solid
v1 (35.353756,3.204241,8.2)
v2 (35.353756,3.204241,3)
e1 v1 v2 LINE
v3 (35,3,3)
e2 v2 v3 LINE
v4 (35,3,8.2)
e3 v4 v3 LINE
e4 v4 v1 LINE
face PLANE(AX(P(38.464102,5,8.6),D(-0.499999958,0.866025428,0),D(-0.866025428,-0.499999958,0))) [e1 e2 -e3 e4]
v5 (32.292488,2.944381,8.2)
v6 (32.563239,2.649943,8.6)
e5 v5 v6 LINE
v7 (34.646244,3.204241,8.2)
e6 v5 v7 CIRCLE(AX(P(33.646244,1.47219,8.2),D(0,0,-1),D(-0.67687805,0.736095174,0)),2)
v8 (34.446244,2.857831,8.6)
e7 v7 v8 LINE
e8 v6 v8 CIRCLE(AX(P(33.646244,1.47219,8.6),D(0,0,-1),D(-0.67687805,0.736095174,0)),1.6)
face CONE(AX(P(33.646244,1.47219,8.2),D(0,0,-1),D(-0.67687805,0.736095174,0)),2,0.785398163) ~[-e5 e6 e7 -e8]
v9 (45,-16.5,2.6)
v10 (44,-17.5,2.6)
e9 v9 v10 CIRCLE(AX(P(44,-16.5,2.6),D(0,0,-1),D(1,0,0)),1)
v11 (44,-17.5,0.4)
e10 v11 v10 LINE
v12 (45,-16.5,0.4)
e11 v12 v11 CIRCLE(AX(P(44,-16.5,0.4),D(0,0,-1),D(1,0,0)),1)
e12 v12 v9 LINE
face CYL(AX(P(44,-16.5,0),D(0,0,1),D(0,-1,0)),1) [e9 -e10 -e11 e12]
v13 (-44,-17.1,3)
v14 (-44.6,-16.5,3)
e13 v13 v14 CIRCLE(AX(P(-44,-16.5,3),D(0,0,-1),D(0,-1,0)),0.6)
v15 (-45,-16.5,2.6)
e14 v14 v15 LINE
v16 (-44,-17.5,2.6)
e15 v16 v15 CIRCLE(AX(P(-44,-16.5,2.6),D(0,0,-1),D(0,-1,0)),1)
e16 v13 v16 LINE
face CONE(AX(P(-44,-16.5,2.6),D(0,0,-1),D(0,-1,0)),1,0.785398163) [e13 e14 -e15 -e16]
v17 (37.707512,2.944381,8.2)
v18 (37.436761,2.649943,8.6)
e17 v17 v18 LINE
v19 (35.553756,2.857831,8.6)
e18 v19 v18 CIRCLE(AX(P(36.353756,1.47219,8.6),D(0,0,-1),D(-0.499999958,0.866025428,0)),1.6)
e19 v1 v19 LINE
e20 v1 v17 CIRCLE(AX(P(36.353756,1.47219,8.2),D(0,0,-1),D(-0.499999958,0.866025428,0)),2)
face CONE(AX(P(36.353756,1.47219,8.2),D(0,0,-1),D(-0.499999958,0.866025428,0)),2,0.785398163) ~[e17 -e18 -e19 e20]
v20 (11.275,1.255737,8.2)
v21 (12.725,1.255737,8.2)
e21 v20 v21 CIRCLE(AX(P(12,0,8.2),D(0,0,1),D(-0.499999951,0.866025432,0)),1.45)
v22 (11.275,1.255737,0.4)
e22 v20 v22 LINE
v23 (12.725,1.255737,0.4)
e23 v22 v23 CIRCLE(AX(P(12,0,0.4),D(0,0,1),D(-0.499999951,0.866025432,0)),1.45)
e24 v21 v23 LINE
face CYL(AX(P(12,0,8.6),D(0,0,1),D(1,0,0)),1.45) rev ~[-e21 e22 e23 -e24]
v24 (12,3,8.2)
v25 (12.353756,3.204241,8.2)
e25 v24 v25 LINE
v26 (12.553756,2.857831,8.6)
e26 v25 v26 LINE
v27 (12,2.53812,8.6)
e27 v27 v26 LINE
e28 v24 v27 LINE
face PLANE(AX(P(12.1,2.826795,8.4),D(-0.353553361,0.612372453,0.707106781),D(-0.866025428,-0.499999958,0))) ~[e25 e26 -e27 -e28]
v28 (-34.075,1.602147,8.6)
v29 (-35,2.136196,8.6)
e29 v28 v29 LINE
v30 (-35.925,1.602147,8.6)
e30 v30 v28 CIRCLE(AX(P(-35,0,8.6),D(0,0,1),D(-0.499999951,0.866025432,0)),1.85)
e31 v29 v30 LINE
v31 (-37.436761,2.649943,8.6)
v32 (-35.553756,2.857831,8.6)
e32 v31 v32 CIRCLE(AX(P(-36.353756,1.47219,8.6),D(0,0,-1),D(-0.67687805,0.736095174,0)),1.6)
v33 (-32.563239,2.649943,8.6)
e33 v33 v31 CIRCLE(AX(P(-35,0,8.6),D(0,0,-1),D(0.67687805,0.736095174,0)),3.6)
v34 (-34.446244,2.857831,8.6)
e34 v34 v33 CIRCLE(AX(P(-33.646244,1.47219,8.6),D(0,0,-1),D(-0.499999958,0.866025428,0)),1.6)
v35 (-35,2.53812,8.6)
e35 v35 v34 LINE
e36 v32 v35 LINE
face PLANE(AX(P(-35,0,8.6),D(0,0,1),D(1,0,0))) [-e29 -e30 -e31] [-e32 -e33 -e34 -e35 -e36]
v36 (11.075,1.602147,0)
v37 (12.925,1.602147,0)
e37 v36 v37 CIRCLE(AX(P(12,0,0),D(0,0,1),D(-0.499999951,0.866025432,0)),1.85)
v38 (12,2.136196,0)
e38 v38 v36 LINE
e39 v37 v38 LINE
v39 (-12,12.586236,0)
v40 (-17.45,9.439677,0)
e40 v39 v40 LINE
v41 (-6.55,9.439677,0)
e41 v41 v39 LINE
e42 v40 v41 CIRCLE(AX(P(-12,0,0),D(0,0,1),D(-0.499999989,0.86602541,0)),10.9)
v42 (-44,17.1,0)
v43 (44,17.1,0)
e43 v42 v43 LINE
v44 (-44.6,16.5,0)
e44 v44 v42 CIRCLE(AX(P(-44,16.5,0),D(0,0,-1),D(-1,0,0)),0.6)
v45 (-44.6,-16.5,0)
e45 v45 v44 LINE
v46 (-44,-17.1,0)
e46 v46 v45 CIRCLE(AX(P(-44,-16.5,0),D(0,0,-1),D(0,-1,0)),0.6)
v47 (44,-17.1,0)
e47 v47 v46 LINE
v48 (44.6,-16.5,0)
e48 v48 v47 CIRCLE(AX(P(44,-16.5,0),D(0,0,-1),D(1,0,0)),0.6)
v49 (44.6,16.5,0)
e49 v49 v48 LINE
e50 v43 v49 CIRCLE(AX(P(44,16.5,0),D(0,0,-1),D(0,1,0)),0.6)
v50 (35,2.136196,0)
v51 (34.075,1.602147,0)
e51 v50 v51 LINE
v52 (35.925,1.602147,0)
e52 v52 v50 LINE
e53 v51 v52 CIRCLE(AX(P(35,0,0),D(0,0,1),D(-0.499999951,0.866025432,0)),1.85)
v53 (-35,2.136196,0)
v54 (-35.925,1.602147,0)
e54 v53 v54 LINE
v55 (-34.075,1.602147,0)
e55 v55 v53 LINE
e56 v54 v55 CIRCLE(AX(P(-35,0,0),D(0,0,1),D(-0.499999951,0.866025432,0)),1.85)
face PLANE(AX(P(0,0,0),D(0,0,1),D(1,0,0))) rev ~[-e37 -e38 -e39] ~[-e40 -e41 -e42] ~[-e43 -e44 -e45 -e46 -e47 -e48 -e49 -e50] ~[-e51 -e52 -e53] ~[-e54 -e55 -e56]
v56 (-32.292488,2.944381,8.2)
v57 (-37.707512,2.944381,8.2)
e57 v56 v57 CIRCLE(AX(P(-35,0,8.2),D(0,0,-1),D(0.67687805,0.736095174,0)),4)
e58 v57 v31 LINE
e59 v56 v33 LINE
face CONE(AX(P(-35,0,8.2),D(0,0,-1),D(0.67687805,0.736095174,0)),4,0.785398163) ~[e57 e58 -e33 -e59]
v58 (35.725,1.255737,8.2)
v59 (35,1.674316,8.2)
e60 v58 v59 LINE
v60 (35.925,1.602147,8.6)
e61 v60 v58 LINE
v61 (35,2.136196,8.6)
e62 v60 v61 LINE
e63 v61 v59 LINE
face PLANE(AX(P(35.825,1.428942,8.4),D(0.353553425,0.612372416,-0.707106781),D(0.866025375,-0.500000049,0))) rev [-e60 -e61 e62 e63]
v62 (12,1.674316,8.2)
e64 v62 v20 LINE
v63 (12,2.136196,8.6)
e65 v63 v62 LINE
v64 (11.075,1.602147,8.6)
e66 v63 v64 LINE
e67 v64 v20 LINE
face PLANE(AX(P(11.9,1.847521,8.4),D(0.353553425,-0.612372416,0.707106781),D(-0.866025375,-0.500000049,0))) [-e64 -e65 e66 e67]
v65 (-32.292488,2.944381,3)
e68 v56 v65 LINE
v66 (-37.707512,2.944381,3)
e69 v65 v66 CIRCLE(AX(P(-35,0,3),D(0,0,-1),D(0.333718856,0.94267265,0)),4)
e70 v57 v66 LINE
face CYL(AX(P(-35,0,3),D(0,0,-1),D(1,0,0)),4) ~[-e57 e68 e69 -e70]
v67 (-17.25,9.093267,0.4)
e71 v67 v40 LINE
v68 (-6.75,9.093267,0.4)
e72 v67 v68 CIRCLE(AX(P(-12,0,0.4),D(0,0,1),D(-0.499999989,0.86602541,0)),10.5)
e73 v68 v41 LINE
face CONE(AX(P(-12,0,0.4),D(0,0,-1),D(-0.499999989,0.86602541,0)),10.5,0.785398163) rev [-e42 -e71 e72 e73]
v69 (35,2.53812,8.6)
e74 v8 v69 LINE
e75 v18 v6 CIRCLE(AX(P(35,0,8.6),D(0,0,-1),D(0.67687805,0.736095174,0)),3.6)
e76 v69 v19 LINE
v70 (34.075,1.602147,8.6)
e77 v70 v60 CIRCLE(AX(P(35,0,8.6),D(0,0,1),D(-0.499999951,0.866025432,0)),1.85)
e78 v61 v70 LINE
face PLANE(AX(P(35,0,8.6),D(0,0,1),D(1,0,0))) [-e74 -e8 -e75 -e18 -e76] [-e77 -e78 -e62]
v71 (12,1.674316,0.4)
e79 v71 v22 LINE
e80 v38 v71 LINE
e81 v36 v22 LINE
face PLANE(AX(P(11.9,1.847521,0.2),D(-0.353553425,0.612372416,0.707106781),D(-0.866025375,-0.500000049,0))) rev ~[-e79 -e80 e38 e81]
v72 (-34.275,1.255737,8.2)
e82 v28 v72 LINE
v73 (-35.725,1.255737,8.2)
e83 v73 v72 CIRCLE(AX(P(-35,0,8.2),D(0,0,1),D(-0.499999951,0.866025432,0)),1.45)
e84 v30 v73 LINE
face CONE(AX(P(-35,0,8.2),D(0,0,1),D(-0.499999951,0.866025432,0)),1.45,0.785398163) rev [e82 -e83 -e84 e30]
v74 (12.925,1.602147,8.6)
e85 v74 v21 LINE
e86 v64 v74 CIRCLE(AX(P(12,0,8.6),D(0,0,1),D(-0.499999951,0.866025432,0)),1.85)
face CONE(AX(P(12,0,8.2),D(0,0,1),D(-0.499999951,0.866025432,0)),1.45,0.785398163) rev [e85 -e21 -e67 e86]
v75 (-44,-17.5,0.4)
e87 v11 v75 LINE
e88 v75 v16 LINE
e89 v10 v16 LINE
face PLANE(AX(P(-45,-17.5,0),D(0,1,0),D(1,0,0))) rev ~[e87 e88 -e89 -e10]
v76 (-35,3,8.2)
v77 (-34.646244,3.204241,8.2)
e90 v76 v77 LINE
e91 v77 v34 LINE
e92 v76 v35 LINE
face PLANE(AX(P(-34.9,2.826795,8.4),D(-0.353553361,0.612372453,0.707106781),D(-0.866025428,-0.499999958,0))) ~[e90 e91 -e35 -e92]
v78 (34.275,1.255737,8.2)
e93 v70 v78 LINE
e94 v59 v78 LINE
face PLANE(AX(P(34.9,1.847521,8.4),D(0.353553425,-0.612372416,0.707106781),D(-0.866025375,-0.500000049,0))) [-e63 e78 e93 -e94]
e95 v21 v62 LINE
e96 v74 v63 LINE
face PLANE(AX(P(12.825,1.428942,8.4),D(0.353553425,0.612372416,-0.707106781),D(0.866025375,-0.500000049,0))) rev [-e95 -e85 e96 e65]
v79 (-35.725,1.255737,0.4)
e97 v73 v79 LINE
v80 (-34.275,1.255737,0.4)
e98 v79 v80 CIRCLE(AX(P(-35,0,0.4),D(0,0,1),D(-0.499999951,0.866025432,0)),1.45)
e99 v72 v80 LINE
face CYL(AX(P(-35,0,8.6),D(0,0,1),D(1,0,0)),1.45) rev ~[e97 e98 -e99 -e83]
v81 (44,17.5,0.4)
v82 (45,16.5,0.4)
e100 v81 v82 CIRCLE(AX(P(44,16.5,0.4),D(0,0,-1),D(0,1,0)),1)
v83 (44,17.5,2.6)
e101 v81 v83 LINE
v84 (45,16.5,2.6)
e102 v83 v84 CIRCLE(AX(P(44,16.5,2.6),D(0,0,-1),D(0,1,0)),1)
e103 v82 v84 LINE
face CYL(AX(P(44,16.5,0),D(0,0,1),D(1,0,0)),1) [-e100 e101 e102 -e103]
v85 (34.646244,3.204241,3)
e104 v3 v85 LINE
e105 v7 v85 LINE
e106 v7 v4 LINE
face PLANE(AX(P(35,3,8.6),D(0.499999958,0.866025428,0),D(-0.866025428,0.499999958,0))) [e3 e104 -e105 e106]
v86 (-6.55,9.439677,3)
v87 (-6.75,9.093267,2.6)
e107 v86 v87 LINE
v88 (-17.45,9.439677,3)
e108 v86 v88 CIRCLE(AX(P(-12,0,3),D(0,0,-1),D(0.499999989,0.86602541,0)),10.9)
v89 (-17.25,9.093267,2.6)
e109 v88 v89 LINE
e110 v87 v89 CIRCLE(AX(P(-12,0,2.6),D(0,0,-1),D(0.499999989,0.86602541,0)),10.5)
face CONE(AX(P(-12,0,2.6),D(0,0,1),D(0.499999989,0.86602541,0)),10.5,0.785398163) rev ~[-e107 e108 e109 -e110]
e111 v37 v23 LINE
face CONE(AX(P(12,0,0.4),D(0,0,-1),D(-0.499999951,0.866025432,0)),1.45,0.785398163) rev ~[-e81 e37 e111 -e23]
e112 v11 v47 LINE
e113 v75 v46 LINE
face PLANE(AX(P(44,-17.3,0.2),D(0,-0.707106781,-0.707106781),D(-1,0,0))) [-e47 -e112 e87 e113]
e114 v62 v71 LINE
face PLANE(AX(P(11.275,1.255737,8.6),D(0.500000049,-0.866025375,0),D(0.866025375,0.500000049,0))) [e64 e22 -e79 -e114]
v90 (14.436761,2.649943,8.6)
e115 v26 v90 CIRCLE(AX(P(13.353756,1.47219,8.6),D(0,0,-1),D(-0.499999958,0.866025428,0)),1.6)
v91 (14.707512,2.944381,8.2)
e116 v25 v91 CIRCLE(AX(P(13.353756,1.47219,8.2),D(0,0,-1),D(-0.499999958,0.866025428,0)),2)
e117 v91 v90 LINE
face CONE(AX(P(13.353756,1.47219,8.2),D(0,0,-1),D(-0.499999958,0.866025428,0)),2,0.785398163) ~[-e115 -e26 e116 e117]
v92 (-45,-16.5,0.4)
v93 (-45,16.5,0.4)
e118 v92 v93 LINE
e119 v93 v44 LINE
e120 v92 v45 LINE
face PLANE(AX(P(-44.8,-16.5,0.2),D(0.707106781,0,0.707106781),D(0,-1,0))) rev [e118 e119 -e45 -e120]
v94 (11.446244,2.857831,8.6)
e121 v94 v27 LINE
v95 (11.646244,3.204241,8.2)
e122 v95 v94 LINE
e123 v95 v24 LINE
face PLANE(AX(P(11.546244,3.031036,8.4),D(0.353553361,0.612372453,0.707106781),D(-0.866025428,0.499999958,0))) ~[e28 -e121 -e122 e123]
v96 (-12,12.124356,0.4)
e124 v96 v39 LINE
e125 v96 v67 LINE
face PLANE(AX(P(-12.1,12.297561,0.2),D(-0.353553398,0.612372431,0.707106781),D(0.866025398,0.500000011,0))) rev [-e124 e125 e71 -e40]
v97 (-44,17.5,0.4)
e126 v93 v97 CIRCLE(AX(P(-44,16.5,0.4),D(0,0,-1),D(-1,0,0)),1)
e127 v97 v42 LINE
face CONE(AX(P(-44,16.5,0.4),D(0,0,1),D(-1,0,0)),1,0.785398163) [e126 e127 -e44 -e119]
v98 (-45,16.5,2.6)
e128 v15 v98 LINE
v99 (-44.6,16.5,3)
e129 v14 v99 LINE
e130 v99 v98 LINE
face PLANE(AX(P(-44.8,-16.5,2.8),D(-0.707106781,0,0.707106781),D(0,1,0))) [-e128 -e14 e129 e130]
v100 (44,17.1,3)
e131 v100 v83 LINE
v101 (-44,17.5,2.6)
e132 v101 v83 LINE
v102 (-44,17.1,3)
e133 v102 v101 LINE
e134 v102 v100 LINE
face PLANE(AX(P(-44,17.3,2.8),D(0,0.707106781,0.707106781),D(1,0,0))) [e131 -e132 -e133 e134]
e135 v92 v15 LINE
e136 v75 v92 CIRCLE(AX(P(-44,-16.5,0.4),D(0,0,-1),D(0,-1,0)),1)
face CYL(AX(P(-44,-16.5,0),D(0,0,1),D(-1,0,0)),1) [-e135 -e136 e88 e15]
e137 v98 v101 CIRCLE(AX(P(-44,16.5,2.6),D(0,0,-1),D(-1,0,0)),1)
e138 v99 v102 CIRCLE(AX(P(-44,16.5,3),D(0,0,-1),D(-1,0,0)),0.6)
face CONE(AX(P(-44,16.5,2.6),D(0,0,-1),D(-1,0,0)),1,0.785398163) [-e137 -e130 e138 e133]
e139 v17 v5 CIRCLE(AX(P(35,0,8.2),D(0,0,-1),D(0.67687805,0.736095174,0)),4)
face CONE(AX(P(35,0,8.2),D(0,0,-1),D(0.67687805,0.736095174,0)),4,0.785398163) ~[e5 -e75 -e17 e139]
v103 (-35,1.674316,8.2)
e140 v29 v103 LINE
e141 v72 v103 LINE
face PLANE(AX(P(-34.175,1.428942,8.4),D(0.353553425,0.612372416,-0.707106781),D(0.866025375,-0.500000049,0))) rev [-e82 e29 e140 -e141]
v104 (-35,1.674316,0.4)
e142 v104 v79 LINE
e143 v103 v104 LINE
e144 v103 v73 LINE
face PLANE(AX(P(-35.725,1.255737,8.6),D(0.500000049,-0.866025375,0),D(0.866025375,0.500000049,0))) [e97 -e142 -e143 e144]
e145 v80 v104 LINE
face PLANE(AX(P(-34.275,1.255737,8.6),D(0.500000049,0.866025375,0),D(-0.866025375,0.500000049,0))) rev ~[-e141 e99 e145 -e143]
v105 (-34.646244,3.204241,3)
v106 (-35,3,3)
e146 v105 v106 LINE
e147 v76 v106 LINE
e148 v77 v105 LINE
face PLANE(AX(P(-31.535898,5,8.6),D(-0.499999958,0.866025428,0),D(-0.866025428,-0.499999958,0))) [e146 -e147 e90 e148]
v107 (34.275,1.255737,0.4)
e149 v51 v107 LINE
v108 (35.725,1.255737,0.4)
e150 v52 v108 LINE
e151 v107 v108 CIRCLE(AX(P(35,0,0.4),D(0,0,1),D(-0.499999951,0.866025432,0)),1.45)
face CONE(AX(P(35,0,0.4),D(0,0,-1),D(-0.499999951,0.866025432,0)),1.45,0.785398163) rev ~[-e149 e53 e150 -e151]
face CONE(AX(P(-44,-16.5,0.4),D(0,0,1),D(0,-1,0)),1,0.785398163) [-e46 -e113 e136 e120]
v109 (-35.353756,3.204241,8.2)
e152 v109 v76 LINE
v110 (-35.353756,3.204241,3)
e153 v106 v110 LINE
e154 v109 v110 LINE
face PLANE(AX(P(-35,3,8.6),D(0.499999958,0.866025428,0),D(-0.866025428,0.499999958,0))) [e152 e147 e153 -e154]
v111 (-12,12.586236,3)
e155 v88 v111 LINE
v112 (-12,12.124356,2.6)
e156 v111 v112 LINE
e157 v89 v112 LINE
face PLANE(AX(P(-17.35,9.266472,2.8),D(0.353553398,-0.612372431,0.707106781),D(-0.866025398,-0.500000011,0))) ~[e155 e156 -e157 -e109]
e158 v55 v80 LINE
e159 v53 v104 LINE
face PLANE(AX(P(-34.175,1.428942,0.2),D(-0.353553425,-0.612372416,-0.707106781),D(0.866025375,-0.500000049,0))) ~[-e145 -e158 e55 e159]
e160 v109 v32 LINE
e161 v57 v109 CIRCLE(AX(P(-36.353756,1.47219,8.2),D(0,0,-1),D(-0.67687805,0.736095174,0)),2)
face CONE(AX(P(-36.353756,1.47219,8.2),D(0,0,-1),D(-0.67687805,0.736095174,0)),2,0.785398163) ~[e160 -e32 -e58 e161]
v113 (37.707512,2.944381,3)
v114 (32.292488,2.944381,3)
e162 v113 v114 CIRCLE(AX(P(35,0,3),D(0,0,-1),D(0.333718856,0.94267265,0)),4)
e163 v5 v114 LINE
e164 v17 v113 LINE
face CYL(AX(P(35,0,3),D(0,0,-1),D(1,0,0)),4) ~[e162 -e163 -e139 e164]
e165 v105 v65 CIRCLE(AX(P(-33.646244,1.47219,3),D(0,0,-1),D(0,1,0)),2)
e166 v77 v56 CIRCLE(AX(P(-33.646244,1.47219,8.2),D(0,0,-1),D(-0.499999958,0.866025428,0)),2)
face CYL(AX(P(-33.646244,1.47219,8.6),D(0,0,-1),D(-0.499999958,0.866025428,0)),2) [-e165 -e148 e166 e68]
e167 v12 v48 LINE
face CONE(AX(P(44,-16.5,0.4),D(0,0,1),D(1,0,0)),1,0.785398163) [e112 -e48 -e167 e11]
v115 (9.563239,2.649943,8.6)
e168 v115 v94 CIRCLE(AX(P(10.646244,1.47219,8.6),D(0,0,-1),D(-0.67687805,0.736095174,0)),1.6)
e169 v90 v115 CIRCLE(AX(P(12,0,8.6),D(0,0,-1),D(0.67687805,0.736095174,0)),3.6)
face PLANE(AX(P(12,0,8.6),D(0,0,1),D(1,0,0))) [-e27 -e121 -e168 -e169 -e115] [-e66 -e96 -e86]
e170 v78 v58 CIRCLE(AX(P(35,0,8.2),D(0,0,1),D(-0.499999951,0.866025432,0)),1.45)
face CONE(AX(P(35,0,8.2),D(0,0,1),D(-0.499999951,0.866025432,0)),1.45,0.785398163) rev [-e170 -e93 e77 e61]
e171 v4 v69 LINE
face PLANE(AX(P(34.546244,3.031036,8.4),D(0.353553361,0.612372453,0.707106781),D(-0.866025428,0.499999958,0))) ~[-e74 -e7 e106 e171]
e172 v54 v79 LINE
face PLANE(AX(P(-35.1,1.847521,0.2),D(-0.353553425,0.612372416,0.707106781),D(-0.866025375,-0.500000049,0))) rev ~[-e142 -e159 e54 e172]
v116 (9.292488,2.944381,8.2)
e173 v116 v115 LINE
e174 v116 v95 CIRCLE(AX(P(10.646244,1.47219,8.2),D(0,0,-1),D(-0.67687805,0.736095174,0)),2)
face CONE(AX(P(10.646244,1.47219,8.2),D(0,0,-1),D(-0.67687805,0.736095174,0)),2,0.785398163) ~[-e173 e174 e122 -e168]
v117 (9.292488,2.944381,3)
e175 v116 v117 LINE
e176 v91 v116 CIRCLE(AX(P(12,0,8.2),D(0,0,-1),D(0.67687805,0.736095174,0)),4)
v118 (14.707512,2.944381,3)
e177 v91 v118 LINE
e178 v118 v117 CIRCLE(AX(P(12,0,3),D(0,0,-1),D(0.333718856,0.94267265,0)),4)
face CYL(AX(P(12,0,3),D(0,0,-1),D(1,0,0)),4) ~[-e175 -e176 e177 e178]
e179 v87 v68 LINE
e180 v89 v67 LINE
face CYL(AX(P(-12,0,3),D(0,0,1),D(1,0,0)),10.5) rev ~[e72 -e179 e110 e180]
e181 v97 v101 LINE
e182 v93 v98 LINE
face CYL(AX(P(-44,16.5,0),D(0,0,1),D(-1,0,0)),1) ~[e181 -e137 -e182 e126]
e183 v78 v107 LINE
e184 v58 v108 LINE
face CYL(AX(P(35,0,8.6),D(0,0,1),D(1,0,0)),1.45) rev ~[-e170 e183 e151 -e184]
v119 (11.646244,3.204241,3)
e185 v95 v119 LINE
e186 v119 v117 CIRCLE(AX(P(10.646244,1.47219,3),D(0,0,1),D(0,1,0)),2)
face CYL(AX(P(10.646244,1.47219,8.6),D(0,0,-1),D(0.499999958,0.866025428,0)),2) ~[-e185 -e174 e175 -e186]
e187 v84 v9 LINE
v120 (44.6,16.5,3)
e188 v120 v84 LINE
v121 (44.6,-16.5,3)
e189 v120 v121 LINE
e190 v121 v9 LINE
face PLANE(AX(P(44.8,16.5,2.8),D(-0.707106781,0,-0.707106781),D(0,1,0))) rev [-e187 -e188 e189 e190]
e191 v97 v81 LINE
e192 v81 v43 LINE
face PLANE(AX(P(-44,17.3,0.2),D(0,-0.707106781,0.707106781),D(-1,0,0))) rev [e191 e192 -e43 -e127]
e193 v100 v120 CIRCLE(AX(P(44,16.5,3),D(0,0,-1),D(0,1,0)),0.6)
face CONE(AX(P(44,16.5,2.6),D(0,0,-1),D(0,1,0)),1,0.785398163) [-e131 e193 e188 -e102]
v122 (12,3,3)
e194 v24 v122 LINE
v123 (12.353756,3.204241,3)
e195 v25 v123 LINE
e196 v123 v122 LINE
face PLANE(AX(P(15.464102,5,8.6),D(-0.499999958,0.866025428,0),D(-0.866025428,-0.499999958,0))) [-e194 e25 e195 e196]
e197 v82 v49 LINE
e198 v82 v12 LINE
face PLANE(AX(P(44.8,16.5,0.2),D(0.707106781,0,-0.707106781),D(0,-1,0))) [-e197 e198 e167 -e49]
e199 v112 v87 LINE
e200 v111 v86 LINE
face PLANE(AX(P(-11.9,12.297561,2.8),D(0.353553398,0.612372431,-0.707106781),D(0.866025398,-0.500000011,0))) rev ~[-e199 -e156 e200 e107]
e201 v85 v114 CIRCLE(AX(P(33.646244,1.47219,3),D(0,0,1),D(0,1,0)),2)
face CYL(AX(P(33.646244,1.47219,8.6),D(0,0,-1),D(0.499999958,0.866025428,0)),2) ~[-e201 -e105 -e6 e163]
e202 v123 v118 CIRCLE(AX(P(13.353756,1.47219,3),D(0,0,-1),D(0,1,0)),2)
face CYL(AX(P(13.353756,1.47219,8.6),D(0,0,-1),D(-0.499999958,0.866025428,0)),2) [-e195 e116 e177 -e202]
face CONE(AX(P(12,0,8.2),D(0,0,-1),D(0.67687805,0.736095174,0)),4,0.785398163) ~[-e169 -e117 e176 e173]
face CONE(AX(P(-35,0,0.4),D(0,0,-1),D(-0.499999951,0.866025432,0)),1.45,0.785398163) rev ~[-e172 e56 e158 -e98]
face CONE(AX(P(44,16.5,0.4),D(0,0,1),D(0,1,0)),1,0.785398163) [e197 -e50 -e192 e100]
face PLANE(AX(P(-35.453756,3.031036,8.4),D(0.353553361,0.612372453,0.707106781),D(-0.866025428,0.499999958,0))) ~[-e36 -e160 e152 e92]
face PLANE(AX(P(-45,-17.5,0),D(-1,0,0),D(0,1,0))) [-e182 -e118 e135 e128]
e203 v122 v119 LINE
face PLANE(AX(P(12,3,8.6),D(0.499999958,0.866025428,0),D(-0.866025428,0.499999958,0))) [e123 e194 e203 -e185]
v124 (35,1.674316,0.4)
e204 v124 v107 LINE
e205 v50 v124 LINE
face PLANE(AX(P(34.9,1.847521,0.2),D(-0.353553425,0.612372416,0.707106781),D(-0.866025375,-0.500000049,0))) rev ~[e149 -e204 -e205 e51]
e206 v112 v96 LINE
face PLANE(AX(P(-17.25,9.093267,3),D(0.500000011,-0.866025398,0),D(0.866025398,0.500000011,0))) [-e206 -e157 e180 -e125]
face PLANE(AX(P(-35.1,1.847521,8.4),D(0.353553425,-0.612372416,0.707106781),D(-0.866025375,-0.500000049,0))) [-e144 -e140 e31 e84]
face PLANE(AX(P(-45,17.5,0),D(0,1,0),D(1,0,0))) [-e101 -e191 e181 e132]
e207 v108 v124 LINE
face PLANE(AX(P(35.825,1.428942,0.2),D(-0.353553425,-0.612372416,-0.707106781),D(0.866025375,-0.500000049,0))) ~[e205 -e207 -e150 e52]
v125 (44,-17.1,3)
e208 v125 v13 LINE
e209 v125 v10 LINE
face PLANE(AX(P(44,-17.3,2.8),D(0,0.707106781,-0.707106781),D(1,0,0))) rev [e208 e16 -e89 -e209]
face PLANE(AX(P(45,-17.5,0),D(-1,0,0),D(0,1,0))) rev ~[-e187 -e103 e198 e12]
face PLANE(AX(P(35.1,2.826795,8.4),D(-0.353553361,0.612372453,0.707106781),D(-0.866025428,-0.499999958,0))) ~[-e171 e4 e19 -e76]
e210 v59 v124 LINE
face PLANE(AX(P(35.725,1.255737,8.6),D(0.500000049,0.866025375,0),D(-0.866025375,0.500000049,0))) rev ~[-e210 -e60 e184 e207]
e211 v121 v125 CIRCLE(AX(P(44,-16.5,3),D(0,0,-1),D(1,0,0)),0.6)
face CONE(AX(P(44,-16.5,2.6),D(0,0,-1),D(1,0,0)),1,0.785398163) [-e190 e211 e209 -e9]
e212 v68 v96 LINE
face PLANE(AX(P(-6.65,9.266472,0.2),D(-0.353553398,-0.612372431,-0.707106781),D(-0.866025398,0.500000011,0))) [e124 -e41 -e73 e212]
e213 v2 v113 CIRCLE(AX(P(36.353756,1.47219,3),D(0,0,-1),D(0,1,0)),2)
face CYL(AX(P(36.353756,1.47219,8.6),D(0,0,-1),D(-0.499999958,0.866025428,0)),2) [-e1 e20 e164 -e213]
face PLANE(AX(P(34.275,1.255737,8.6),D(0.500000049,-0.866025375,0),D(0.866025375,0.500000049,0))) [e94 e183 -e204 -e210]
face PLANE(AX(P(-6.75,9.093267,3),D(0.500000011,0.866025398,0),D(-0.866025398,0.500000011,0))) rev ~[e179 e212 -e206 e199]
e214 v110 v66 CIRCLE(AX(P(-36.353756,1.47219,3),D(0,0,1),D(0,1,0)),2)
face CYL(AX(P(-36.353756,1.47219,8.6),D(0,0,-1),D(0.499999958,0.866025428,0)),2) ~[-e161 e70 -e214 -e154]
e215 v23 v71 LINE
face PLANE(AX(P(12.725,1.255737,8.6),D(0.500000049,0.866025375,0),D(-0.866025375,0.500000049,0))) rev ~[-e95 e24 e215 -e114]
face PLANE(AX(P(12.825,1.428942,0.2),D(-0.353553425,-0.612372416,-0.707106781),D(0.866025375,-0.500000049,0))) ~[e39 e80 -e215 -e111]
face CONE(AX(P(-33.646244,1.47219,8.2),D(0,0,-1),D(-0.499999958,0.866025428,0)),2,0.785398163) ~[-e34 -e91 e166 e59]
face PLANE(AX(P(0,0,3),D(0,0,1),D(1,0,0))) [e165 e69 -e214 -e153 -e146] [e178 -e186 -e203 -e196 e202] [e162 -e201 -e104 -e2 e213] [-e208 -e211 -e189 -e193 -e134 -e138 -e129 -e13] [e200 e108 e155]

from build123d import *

# Parameters (mm, degrees)
SKETCH_W                = 90
SKETCH_H                = 35
PAD_DEPTH               = 3
SKETCH001_R             = 10.5
HOLE_DEPTH              = 25
HOLE_TEARDROPS_DEPTH    = 25
SKETCH002_R             = 4
PAD001_DEPTH            = 5.6
POCKET_DEPTH            = 5.6
SKETCH004_R             = 1.45
HOLE001_DEPTH           = 25
HOLE001_TEARDROPS_DEPTH = 25
FILLET_R                = 2
CHAMFER_SIZE            = 0.4
FILLET001_R             = 1
CHAMFER001_SIZE         = 0.4


with BuildPart() as part:
    # Sketch → Pad (new body)
    with BuildSketch(Plane.XY):
        Rectangle(SKETCH_W, SKETCH_H)
    extrude(amount=PAD_DEPTH)

    # Sketch001 (on Face6 of Pad) → Hole (cut)
    with BuildSketch(Plane.XY.offset(3)):
        with Locations((-12, 0)):
            Circle(SKETCH001_R)
    extrude(amount=-HOLE_DEPTH, mode=Mode.SUBTRACT)

    # Sketch001_Teardrops (on Sketch) → Hole_Teardrops (cut)
    with BuildSketch(Plane.XY.offset(3)):
        with BuildLine():
            ThreePointArc((-17.25, 9.093267), (-12, -10.5), (-6.75, 9.093267))
            Line((-6.75, 9.093267), (-12, 12.124356))
            Line((-17.25, 9.093267), (-12, 12.124356))
        make_face()
    extrude(amount=-HOLE_TEARDROPS_DEPTH, mode=Mode.SUBTRACT)

    # Sketch002 (on Face5 of Hole_Teardrops) → Pad001 (join)
    with BuildSketch(Plane.XY.offset(3)):
        with Locations((35, 0)):
            Circle(SKETCH002_R)
        with Locations((12, 0)):
            Circle(SKETCH002_R)
        with Locations((-35, 0)):
            Circle(SKETCH002_R)
    extrude(amount=PAD001_DEPTH)

    # Sketch003 (on Face13 of Pad001) → Pocket (cut)
    with BuildSketch(Plane.XY.offset(8.6)):
        Polygon((-35, 3), (-38.464102, 5), (-31.535898, 5), align=None)
        Polygon((12, 3), (8.535898, 5), (15.464102, 5), align=None)
        Polygon((38.464102, 5), (35, 3), (31.535898, 5), align=None)
    extrude(amount=-POCKET_DEPTH, mode=Mode.SUBTRACT)

    # Sketch004 (on Face17 of Pocket) → Hole001 (cut)
    with BuildSketch(Plane.XY.offset(8.6)):
        with Locations((-35, 0)):
            Circle(SKETCH004_R)
        with Locations((12, 0)):
            Circle(SKETCH004_R)
        with Locations((35, 0)):
            Circle(SKETCH004_R)
    extrude(amount=-HOLE001_DEPTH, mode=Mode.SUBTRACT)

    # Sketch004_Teardrops (on Sketch) → Hole001_Teardrops (cut)
    with BuildSketch(Plane.XY.offset(8.6)):
        with BuildLine():
            ThreePointArc((-35.725, 1.255737), (-35, -1.45), (-34.275, 1.255737))
            Line((-34.275, 1.255737), (-35, 1.674316))
            Line((-35.725, 1.255737), (-35, 1.674316))
        make_face()
        with BuildLine():
            ThreePointArc((11.275, 1.255737), (12, -1.45), (12.725, 1.255737))
            Line((12.725, 1.255737), (12, 1.674316))
            Line((11.275, 1.255737), (12, 1.674316))
        make_face()
        with BuildLine():
            ThreePointArc((34.275, 1.255737), (35, -1.45), (35.725, 1.255737))
            Line((35.725, 1.255737), (35, 1.674316))
            Line((34.275, 1.255737), (35, 1.674316))
        make_face()
    extrude(amount=-HOLE001_TEARDROPS_DEPTH, mode=Mode.SUBTRACT)

    # Fillet
    fillet_edges = [part.edges().sort_by_distance(p)[0] for p in [
        (36.334875, 3.770691, 5.8),
        (33.665125, 3.770691, 5.8),
        (13.334875, 3.770691, 5.8),
        (10.665125, 3.770691, 5.8),
        (-33.665125, 3.770691, 5.8),
        (-36.334875, 3.770691, 5.8),
    ]]
    fillet(fillet_edges, radius=FILLET_R)

    # Chamfer
    chamfer_edges = [part.edges().sort_by_distance(p)[0] for p in [
        (33.392214, -3.662653, 8.6),
        (10.392214, -3.662653, 8.6),
        (-36.607786, -3.662653, 8.6),
        (-35.725, -1.255737, 8.6),
        (11.275, -1.255737, 8.6),
        (34.275, -1.255737, 8.6),
    ]]
    chamfer(chamfer_edges, length=CHAMFER_SIZE)

    # Fillet001
    fillet001_edges = [part.edges().sort_by_distance(p)[0] for p in [
        (45, 17.5, 1.5),
        (-45, 17.5, 1.5),
        (-45, -17.5, 1.5),
        (45, -17.5, 1.5),
    ]]
    fillet(fillet001_edges, radius=FILLET001_R)

    # Chamfer001
    chamfer001_edges = [part.edges().sort_by_distance(p)[0] for p in [
        (0, 17.5, 0),
        (0, 17.5, 3),
        (-35.725, -1.255737, 0),
        (-17.25, -9.093267, 0),
        (-17.25, -9.093267, 3),
        (11.275, -1.255737, 0),
        (34.275, -1.255737, 0),
    ]]
    chamfer(chamfer001_edges, length=CHAMFER001_SIZE)


solid = part.part
